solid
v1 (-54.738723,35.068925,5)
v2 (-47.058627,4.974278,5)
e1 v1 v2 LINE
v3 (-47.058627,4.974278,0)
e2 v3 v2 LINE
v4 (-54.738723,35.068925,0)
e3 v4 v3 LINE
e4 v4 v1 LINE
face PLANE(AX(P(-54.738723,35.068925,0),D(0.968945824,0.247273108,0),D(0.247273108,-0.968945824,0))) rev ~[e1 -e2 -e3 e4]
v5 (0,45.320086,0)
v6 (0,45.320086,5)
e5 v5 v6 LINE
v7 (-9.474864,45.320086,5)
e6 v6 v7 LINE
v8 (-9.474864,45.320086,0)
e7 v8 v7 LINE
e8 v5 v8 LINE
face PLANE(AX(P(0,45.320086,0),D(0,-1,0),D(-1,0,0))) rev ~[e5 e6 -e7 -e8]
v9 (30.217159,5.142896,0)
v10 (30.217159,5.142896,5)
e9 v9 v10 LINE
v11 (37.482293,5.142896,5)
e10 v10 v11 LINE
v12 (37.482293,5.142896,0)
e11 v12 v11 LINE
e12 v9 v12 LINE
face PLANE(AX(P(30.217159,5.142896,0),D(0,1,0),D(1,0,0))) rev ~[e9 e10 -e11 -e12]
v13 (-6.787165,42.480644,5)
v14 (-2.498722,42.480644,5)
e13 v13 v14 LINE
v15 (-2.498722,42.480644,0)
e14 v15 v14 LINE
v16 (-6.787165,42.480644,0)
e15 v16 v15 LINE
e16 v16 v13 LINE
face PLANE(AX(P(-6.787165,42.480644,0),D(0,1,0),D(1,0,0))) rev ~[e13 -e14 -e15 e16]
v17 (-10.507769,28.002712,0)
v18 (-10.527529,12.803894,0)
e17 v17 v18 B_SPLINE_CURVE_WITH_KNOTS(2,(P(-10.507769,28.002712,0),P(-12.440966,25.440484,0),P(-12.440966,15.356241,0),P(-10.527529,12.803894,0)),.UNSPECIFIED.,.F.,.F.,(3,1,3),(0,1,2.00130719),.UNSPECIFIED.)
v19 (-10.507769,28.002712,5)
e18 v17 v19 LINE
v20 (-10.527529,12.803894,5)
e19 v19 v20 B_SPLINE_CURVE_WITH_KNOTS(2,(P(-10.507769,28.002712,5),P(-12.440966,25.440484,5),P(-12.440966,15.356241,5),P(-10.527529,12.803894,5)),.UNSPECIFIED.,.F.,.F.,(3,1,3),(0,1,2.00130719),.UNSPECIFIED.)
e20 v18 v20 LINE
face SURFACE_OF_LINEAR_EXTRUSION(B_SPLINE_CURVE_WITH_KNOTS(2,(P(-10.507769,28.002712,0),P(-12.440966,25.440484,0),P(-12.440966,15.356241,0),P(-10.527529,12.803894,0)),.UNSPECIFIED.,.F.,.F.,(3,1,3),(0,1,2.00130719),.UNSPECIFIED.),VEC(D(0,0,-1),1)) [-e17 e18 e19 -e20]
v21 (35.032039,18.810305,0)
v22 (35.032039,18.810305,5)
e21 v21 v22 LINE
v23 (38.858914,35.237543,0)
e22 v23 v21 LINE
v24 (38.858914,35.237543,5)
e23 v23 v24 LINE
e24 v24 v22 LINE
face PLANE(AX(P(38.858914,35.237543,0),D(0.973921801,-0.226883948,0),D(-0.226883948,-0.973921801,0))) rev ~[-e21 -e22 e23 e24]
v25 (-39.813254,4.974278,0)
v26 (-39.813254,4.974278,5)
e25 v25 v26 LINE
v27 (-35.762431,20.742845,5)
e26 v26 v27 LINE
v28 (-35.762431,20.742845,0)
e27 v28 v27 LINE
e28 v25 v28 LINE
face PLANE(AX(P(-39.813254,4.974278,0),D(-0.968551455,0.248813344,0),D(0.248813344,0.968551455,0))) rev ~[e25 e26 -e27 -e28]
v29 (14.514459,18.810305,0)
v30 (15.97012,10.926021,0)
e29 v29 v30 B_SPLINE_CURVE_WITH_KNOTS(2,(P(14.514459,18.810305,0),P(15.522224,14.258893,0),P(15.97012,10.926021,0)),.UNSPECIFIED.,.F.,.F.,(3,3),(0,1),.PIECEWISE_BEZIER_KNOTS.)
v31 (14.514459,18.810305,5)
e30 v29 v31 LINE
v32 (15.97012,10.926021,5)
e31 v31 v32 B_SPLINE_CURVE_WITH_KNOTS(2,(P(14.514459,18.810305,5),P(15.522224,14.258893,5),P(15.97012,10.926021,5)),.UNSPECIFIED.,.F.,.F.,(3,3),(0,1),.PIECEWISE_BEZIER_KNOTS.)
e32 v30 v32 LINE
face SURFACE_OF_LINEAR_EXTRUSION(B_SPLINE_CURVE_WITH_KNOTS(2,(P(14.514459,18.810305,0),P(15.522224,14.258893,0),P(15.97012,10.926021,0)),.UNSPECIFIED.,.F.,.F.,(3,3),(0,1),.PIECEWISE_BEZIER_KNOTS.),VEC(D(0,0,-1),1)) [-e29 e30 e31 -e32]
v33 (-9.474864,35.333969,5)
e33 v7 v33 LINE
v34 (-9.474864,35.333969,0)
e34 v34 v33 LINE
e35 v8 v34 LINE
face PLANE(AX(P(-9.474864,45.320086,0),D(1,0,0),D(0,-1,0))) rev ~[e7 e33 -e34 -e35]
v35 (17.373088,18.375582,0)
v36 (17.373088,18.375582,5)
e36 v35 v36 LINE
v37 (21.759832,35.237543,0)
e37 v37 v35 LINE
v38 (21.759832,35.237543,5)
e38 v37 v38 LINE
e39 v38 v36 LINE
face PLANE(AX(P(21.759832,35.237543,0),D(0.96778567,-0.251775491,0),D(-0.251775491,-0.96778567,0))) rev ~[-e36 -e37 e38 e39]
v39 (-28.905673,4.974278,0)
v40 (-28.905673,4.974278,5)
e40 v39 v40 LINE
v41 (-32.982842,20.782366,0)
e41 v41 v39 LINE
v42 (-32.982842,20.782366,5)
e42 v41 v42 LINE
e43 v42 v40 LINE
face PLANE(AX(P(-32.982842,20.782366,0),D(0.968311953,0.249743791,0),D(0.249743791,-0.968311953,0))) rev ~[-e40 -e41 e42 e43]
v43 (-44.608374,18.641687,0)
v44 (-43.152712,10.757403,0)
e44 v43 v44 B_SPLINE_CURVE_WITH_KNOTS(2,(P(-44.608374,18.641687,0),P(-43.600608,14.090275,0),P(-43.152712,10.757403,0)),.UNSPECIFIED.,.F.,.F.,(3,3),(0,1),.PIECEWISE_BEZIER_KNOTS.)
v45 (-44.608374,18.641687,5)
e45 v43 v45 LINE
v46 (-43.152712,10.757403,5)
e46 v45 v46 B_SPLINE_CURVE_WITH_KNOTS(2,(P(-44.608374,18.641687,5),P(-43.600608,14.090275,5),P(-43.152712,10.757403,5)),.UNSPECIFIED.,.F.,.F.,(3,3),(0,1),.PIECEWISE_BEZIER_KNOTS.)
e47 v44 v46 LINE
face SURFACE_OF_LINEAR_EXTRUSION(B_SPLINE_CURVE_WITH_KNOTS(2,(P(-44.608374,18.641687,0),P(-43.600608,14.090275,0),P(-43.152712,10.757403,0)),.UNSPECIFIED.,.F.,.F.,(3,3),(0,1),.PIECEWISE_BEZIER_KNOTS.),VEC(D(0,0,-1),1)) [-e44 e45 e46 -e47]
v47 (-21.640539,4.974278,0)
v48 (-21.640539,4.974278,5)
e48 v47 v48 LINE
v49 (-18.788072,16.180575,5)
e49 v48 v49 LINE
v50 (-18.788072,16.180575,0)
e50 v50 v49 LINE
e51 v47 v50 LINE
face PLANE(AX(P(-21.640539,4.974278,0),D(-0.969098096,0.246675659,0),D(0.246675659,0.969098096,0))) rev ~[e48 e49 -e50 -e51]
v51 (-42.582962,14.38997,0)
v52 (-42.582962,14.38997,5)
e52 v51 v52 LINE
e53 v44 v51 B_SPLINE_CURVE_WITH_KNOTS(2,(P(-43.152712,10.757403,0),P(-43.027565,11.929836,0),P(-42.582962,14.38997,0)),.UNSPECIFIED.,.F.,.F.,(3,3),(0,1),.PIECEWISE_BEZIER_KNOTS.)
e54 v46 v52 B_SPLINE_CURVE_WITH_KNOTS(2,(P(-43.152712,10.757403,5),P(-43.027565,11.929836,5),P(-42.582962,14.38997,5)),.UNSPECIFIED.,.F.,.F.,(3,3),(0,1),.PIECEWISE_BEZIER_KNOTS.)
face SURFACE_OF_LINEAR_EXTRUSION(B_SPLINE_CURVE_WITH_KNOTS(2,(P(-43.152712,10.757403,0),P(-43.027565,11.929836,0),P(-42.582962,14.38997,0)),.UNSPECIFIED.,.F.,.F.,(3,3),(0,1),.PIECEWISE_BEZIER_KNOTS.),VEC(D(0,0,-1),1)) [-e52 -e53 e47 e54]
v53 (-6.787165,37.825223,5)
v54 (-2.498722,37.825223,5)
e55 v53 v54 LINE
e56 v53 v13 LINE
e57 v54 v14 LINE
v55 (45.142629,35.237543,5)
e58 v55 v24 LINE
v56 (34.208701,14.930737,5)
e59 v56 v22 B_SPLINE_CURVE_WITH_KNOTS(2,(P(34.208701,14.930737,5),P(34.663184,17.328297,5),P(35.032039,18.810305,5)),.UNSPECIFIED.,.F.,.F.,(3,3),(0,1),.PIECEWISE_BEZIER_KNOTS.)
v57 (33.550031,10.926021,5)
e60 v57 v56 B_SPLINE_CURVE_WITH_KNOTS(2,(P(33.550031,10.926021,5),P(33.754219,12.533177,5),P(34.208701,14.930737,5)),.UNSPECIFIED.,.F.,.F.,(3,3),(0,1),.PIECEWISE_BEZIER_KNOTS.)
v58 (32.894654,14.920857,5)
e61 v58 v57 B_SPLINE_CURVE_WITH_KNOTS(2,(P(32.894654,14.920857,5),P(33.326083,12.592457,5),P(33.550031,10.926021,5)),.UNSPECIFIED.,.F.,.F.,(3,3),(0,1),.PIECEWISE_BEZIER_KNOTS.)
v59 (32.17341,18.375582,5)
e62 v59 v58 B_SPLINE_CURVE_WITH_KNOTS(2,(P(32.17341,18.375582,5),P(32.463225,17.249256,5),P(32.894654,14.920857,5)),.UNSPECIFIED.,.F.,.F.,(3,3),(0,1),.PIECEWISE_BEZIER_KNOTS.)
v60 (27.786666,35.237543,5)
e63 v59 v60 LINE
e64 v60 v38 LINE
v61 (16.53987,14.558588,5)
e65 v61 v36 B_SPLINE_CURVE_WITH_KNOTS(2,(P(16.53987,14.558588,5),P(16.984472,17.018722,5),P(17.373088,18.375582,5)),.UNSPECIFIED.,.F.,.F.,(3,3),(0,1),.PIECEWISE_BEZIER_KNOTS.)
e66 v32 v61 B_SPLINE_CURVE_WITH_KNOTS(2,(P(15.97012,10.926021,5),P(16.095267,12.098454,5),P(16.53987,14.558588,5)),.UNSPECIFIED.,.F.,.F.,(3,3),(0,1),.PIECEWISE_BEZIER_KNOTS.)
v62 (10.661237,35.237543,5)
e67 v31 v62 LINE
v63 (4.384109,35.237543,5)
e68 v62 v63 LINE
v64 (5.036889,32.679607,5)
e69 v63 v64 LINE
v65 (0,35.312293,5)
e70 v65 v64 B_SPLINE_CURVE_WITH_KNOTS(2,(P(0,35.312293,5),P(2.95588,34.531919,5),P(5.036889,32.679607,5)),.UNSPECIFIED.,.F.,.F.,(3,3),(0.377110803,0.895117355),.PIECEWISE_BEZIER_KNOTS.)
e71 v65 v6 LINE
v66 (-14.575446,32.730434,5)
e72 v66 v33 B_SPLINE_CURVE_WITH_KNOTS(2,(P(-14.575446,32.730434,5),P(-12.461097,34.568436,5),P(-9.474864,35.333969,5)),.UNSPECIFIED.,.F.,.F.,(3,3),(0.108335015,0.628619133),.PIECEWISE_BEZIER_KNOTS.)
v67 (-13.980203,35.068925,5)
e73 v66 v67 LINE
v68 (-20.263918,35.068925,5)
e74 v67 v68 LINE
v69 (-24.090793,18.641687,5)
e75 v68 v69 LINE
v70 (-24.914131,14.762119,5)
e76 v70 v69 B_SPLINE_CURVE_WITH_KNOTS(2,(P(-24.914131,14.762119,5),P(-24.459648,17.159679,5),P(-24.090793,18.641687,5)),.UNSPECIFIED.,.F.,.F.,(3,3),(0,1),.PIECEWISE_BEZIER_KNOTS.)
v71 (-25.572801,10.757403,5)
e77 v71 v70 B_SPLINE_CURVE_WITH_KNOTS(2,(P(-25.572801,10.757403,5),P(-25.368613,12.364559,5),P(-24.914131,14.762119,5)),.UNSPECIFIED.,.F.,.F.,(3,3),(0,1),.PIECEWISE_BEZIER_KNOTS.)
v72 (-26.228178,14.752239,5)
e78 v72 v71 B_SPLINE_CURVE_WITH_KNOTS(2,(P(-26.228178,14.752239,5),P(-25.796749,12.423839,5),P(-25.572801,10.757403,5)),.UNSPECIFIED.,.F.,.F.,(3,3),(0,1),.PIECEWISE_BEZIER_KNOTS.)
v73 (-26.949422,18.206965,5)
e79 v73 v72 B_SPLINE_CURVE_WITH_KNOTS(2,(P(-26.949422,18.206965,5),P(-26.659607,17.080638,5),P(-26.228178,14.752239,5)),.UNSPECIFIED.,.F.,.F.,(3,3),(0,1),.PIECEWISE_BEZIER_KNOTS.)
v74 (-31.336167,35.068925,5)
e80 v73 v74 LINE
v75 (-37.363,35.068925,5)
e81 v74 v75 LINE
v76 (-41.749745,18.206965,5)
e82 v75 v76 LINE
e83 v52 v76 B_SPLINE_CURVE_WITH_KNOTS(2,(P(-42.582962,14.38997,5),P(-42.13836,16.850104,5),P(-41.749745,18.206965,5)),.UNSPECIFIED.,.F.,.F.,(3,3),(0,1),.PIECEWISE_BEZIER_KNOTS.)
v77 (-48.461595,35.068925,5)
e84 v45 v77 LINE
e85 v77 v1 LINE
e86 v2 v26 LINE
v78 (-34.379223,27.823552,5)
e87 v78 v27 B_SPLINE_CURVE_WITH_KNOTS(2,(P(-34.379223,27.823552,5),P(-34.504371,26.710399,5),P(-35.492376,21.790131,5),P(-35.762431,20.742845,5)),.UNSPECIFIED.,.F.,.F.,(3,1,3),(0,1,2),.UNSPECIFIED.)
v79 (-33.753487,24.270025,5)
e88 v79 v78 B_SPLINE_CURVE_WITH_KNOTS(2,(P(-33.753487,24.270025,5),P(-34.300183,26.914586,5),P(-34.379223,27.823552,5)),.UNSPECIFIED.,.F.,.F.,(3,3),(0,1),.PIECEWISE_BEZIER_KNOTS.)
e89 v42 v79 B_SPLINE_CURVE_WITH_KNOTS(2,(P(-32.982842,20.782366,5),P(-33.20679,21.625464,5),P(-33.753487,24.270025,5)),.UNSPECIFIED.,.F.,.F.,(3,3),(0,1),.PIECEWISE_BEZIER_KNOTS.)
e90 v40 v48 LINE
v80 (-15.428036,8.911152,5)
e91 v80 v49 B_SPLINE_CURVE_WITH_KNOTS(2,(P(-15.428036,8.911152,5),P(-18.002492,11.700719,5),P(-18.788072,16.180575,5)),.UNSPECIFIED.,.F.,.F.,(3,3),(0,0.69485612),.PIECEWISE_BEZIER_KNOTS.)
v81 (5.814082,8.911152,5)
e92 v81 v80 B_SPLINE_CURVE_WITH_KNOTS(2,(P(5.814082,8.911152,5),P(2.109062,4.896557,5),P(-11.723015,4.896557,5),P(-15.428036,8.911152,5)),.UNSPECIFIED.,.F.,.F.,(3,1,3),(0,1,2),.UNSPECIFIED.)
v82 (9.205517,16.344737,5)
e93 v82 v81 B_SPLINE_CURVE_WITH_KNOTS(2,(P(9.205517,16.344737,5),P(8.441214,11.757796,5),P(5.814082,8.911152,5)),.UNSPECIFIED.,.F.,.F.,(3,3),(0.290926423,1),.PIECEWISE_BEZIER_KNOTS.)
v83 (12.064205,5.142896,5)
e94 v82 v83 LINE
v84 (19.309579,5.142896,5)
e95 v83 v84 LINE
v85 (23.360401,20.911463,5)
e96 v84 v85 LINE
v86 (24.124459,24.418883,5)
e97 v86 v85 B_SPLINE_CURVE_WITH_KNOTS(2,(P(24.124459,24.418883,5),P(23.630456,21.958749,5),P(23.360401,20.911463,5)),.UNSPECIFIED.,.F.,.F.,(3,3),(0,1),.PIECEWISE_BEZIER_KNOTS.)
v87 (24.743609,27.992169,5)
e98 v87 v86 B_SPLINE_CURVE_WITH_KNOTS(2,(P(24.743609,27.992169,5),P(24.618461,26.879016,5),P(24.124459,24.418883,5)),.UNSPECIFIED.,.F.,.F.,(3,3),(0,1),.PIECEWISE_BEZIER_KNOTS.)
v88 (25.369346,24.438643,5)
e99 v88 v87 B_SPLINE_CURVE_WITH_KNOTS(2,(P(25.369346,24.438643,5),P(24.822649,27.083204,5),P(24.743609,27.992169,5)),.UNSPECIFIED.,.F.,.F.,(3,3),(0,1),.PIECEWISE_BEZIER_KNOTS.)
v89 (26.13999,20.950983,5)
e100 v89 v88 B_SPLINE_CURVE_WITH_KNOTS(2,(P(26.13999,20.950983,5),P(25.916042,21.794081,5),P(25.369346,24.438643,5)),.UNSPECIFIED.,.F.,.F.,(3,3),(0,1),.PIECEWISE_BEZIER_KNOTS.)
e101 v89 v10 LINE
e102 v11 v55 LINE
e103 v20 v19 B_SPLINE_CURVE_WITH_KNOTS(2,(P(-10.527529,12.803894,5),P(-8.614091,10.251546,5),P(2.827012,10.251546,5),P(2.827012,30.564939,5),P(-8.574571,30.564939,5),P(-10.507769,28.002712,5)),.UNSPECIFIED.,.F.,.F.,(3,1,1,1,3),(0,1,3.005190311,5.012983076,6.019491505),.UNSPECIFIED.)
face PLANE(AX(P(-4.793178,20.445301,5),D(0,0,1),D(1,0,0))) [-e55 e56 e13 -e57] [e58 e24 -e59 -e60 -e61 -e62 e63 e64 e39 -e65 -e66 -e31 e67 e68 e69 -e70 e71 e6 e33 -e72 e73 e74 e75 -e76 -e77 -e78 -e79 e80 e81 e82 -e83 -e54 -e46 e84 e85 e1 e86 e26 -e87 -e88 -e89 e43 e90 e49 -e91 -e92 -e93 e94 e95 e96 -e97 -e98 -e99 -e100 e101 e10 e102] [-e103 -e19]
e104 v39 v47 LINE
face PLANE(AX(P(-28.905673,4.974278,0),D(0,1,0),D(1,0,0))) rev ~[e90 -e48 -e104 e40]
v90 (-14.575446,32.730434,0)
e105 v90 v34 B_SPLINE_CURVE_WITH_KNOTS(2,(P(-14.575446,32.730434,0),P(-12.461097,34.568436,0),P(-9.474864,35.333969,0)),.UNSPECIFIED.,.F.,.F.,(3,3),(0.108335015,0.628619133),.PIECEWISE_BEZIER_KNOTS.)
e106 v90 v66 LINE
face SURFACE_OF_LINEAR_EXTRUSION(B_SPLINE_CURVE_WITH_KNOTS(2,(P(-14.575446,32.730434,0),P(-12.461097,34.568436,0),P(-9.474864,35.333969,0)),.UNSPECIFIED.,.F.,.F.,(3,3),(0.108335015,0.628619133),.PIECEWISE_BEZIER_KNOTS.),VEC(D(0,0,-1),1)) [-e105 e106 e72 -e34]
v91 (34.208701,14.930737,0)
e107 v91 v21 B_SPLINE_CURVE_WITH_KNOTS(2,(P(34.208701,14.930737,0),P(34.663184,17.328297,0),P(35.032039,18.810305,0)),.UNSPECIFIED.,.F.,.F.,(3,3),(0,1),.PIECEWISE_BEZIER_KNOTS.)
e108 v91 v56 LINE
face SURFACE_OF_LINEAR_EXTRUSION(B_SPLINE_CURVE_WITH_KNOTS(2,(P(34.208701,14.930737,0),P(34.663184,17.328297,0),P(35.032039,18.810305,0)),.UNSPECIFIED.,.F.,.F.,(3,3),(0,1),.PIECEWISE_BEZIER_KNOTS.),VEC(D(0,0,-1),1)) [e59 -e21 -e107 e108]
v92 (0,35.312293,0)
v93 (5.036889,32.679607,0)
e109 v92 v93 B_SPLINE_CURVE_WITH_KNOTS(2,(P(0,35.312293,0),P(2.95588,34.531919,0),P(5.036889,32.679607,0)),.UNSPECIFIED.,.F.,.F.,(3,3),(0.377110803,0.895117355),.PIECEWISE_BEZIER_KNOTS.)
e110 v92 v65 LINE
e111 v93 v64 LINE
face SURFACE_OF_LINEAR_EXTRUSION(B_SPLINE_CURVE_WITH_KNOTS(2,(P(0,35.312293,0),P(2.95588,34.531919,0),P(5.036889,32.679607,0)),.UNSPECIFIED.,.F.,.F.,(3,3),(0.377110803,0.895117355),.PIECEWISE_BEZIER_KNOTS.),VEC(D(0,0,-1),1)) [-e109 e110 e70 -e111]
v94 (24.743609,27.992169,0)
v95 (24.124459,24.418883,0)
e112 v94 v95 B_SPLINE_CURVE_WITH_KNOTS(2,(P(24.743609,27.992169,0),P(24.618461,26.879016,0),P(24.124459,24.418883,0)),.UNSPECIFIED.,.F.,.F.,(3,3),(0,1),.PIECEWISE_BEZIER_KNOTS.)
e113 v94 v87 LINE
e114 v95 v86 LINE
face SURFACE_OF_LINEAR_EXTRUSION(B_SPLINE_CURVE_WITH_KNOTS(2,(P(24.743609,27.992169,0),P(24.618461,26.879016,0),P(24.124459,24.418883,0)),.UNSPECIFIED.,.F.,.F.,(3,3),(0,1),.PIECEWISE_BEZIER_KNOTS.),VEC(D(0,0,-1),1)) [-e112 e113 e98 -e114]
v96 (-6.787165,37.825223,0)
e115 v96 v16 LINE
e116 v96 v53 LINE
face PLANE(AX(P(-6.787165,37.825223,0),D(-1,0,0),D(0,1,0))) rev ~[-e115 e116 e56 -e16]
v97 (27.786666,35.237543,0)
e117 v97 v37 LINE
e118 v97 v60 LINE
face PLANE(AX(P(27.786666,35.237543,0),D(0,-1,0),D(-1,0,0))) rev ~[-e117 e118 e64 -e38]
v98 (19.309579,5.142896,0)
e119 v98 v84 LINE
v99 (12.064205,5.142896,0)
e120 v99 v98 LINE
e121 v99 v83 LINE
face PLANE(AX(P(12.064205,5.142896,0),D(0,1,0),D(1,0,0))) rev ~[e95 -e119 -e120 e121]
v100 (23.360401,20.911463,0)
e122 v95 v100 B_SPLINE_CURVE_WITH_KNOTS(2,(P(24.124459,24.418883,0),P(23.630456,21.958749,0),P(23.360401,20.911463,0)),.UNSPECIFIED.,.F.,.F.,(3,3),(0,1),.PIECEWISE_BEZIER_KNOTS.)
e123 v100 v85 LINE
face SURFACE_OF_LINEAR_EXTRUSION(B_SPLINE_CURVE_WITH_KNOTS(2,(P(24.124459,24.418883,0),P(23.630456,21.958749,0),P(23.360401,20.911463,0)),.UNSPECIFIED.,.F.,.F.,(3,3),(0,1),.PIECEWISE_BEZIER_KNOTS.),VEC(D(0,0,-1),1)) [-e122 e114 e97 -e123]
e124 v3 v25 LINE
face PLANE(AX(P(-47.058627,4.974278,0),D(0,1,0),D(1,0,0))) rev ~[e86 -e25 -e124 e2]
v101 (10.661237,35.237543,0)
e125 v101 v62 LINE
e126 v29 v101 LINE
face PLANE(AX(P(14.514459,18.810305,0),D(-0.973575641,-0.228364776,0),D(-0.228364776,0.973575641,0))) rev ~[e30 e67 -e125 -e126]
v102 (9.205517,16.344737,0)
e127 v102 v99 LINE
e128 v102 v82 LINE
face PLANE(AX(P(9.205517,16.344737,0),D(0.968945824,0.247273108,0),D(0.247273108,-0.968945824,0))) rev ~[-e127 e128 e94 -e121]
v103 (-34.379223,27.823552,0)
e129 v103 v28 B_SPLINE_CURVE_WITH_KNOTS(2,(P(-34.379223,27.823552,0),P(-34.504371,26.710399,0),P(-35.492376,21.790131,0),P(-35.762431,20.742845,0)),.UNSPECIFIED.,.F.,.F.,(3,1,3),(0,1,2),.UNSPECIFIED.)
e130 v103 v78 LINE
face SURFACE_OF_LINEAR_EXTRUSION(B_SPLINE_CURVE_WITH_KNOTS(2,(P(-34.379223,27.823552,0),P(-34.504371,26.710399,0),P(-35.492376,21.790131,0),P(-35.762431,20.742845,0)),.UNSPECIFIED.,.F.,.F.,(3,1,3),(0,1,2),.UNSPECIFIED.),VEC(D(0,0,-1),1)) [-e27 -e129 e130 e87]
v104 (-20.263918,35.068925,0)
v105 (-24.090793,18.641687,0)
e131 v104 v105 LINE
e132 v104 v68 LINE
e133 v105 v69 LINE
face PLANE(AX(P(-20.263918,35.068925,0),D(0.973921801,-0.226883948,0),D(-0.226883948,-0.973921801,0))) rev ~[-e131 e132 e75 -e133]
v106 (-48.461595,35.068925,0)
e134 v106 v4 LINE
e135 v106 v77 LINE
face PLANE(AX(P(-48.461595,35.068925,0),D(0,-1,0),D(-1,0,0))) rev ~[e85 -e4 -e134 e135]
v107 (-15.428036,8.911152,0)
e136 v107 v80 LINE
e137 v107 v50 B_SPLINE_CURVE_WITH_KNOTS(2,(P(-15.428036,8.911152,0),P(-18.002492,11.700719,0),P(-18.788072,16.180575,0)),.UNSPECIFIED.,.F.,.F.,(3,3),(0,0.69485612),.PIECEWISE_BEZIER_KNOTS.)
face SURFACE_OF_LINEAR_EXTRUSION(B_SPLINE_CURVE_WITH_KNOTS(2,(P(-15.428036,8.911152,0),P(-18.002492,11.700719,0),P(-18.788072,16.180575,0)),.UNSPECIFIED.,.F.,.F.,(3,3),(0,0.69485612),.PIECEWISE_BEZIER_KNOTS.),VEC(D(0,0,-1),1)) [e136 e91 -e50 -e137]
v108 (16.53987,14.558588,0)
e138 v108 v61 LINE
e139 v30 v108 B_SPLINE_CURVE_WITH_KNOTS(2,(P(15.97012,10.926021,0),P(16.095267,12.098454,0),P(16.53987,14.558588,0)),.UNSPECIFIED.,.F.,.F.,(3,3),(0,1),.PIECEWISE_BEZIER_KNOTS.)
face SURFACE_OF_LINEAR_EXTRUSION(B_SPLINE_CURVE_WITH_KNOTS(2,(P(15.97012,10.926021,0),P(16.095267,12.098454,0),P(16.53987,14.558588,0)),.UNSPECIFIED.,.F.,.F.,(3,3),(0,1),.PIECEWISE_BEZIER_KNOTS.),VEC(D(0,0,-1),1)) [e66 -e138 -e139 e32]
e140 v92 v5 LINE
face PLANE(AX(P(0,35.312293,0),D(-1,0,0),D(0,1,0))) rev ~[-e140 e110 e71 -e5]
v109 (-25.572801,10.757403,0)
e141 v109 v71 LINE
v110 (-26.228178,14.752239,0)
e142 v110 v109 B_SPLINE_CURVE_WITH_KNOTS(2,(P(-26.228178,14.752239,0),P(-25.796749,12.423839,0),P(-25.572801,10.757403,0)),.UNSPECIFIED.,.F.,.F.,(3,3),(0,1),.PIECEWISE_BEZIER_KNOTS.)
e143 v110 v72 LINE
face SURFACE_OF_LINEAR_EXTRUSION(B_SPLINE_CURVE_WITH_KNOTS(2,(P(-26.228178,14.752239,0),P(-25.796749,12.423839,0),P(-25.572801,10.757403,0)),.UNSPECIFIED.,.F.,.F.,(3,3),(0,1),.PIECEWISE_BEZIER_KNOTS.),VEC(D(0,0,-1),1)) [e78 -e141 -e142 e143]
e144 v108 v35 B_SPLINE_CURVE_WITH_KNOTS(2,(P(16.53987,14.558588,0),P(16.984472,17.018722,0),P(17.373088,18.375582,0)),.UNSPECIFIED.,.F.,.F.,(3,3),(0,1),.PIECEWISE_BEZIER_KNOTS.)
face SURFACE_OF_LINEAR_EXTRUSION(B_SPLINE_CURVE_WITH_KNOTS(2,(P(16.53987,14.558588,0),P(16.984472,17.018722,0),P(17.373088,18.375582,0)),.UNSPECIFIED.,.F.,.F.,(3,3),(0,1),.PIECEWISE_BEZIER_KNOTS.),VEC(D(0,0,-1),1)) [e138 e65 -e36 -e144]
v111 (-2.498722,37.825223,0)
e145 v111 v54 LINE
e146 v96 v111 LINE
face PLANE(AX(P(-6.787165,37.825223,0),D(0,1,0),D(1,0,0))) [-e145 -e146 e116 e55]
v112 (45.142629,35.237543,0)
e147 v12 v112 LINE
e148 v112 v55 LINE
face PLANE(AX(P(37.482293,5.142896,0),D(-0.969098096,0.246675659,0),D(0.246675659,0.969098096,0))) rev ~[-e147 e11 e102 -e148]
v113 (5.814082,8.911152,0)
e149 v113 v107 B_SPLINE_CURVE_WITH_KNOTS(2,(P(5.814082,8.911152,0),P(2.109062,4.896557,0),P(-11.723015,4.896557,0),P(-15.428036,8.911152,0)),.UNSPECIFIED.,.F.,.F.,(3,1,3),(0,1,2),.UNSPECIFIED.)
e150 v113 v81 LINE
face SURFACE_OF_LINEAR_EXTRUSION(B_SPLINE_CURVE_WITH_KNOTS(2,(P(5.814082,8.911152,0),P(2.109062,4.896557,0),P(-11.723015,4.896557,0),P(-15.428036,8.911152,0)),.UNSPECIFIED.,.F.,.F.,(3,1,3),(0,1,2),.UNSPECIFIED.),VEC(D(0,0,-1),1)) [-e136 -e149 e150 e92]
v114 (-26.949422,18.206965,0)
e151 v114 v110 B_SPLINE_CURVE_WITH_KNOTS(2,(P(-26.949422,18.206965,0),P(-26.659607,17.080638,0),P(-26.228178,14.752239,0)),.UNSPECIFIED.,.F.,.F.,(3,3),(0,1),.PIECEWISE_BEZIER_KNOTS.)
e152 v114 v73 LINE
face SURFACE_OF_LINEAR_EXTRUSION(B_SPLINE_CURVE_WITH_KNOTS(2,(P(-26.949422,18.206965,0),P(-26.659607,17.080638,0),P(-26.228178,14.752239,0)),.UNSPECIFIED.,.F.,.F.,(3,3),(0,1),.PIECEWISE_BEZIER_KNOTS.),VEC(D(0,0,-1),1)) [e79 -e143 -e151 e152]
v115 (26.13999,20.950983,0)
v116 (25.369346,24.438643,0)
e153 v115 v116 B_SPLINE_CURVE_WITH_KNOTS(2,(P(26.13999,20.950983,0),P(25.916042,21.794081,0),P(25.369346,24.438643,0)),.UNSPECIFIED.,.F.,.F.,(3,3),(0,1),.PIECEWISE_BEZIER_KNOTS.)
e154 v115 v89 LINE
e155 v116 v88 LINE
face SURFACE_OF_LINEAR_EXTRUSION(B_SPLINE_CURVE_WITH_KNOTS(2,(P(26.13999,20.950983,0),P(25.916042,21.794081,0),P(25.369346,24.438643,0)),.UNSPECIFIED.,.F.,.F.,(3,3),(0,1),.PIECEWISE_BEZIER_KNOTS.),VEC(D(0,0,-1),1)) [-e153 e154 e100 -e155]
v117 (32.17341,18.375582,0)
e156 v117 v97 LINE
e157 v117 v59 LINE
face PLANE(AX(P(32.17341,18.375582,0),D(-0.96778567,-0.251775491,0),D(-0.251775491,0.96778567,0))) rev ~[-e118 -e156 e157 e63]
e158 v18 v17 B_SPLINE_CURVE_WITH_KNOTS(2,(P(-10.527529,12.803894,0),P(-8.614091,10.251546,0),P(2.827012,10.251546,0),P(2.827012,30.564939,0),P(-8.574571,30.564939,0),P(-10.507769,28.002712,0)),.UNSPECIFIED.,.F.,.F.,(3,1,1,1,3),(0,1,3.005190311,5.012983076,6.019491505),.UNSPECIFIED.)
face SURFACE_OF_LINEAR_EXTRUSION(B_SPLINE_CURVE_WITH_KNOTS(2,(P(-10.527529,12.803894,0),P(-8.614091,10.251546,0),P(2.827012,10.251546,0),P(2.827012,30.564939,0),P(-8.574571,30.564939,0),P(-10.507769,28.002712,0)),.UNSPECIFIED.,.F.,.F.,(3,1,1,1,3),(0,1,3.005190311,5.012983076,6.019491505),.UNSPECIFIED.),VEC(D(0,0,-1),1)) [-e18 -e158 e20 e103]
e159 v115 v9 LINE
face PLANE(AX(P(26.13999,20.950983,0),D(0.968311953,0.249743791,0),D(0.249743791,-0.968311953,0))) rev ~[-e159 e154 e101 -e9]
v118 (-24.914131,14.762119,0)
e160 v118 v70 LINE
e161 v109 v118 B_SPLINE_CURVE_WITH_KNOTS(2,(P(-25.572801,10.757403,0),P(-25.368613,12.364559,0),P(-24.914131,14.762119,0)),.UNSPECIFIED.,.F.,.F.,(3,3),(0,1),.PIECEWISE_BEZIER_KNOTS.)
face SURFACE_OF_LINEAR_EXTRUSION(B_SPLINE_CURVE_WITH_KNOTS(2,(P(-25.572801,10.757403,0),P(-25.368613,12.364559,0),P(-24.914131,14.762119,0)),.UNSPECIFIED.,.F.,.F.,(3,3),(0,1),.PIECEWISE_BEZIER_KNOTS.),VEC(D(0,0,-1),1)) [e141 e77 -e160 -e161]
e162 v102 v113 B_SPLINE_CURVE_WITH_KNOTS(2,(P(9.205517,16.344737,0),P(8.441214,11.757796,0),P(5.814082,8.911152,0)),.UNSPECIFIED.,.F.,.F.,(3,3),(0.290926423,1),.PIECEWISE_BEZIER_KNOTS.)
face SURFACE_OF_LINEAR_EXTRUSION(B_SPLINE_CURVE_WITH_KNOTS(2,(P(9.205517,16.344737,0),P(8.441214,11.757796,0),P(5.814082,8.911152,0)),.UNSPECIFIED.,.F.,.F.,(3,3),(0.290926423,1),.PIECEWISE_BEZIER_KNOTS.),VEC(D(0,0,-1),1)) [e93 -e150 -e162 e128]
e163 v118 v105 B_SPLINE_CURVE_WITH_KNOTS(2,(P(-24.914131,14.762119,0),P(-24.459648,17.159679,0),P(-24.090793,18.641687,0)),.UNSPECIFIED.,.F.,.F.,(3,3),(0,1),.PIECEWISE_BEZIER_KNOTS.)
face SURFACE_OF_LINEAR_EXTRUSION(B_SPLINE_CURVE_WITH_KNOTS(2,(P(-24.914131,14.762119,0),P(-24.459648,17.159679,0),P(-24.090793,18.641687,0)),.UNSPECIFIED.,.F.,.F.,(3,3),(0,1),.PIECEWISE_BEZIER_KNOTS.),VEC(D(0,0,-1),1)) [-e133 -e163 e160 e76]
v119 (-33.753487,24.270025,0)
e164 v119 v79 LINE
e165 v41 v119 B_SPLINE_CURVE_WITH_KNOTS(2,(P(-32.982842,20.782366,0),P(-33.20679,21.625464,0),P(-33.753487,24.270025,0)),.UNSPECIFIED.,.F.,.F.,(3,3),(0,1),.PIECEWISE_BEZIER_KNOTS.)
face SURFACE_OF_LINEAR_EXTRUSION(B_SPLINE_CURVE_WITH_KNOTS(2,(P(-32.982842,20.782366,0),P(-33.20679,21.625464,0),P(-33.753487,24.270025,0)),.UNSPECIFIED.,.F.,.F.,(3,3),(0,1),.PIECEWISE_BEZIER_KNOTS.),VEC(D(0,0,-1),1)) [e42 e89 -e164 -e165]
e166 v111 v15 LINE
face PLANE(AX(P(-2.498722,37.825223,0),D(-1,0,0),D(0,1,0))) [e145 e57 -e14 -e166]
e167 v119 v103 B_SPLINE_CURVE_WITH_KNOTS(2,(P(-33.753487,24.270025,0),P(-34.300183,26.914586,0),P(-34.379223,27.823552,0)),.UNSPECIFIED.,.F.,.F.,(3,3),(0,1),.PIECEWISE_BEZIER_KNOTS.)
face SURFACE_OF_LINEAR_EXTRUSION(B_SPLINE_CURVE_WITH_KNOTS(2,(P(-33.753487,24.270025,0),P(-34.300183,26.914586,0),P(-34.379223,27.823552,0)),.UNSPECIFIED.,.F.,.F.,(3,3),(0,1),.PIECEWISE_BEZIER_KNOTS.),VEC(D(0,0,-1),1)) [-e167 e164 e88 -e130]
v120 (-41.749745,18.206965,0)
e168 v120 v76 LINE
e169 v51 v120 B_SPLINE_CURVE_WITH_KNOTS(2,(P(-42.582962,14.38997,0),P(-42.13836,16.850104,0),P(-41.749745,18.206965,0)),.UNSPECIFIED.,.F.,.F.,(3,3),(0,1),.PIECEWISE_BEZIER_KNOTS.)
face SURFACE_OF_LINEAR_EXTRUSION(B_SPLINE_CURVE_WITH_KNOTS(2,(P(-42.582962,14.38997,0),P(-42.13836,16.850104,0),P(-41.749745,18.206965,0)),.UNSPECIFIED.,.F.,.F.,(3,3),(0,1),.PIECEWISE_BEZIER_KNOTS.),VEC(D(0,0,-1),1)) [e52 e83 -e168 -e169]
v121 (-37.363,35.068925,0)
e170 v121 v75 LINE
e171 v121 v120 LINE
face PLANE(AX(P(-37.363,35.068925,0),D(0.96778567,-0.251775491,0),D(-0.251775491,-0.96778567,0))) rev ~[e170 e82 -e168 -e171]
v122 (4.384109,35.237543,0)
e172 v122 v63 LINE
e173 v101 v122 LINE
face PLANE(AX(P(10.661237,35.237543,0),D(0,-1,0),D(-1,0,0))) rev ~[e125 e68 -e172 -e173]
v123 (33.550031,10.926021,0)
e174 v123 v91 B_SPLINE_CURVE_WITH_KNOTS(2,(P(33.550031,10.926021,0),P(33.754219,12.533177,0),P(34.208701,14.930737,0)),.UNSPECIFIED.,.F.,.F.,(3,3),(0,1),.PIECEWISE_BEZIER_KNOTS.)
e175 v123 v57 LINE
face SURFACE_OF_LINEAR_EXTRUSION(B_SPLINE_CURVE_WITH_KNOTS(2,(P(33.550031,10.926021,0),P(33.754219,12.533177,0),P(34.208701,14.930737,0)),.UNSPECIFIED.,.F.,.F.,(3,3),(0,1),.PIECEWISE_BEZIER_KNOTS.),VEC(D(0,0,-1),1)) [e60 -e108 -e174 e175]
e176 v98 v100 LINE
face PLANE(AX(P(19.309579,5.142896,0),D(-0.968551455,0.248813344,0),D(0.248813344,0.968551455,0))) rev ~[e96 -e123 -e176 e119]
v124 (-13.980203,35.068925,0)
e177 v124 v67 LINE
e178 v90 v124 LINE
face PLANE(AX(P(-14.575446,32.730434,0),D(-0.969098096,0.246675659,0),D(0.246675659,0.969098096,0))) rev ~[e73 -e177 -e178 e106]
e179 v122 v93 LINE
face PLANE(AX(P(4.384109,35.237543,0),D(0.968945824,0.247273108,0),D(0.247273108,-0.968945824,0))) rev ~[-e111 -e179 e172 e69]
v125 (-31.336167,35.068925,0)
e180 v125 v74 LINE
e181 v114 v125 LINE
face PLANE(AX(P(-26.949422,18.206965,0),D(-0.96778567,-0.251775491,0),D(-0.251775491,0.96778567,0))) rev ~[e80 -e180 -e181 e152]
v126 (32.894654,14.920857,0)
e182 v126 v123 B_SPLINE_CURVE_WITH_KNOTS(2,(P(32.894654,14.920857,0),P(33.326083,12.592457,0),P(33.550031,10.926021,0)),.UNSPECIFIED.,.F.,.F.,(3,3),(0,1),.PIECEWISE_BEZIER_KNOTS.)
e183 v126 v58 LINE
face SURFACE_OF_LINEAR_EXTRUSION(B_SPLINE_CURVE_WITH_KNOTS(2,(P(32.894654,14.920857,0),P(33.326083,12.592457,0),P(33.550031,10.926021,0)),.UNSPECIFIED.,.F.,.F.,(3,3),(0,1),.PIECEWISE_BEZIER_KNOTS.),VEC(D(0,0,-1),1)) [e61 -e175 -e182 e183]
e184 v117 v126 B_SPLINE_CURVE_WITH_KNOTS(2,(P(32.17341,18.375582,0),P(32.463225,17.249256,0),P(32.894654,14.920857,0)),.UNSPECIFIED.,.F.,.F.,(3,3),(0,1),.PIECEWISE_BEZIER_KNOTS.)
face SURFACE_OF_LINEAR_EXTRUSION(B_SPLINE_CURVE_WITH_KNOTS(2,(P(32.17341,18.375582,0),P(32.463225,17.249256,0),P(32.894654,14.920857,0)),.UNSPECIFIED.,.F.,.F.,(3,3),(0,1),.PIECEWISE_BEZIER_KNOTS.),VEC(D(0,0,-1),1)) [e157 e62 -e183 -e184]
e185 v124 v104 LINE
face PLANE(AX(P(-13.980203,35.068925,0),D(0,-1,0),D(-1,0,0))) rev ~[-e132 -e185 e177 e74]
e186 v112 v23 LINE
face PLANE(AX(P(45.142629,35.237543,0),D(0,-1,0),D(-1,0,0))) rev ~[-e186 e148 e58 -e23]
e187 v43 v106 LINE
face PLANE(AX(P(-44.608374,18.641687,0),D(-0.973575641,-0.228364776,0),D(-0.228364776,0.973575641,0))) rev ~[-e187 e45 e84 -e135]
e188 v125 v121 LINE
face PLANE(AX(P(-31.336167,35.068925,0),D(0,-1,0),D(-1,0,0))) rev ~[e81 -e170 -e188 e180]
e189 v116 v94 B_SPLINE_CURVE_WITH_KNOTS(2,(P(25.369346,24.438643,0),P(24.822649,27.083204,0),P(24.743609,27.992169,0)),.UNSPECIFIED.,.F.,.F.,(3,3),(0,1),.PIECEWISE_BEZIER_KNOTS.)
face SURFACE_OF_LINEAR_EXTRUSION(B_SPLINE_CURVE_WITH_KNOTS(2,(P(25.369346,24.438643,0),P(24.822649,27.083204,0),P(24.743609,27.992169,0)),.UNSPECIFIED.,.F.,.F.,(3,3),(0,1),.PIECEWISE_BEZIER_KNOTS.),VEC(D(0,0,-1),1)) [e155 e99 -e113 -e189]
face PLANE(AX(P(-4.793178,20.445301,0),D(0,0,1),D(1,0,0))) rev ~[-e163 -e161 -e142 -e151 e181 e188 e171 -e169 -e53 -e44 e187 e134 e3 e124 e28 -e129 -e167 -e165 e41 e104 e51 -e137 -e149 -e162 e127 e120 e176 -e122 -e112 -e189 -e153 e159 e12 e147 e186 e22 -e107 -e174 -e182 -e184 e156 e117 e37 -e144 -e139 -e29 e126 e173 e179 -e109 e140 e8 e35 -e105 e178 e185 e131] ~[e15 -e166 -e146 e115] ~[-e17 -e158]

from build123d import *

# Parameters (mm, degrees)
F0_W     = 4.2884426657
F0_H     = 4.6554207802
F1_DEPTH = 5


with BuildPart() as f1:
    # F0 (on Top) → F1 (new body)
    with BuildSketch(Plane.XY):
        with BuildLine():
            Line((0, 34.1648682952), (-9.4748642296, 34.101113677))
            Line((-9.4748642296, 34.101113677), (-9.4748642296, 35.3339686341))
            add(Edge.make_bspline(
                [(-14.5754463948, 32.7304336343), (-12.461096702, 34.5684357885), (-9.4748642296, 35.3339686341)],
                knots=[0.1083350146, 0.1083350146, 0.1083350146, 0.628619133, 0.628619133, 0.628619133], degree=2))
            Line((-14.5754463948, 32.7304336343), (-18.7880718964, 16.1805747203))
            add(Edge.make_bspline(
                [(-15.428036076, 8.9111522718), (-18.0024923275, 11.7007186457), (-18.7880718964, 16.1805747203)],
                knots=[0, 0, 0, 0.6948561202, 0.6948561202, 0.6948561202], degree=2))
            add(Edge.make_bspline(
                [(-4.8069769728, 4.8965565984), (-11.7230154586, 4.8965565984), (-15.428036076, 8.9111522718)],
                knots=[0, 0, 0, 1, 1, 1], degree=2))
            add(Edge.make_bspline(
                [(5.8140821305, 8.9111522718), (2.1090615131, 4.8965565984), (-4.8069769728, 4.8965565984)],
                knots=[0, 0, 0, 1, 1, 1], degree=2))
            add(Edge.make_bspline(
                [(9.2055165337, 16.3447369284), (8.4412143544, 11.7577959882), (5.8140821305, 8.9111522718)],
                knots=[0.2909264225, 0.2909264225, 0.2909264225, 1, 1, 1], degree=2))
            Line((9.2055165337, 16.3447369284), (5.0368892491, 32.6796066227))
            add(Edge.make_bspline(
                [(0, 35.3122932316), (2.9558799099, 34.5319186151), (5.0368892491, 32.6796066227)],
                knots=[0.377110803, 0.377110803, 0.377110803, 0.8951173554, 0.8951173554, 0.8951173554], degree=2))
            Line((0, 35.3122932316), (0, 34.1648682952))
        make_face()
        with BuildLine():
            add(Edge.make_bspline(
                [(-12.4409661205, 20.4016562133), (-12.4409661205, 15.3562414703), (-10.5275288061, 12.8038939339)],
                knots=[0, 0, 0, 1, 1, 1], degree=2))
            add(Edge.make_bspline(
                [(-10.5077686961, 28.0027118444), (-12.4409661205, 25.440484253), (-12.4409661205, 20.4016562133)],
                knots=[0, 0, 0, 1, 1, 1], degree=2))
            add(Edge.make_bspline(
                [(-4.7674567528, 30.5649394359), (-8.5745712717, 30.5649394359), (-10.5077686961, 28.0027118444)],
                knots=[0, 0, 0, 1, 1, 1], degree=2))
            add(Edge.make_bspline(
                [(2.827012175, 20.4016562133), (2.827012175, 30.5649394359), (-4.7674567528, 30.5649394359)],
                knots=[0, 0, 0, 1, 1, 1], degree=2))
            add(Edge.make_bspline(
                [(-4.8069769728, 10.2515463974), (2.827012175, 10.2515463974), (2.827012175, 20.4016562133)],
                knots=[0, 0, 0, 1, 1, 1], degree=2))
            add(Edge.make_bspline(
                [(-10.5275288061, 12.8038939339), (-8.6140914916, 10.2515463974), (-4.8069769728, 10.2515463974)],
                knots=[0, 0, 0, 1, 1, 1], degree=2))
        make_face(mode=Mode.SUBTRACT)
        with BuildLine():
            Line((-9.4748642296, 35.3339686341), (-9.4748642296, 34.101113677))
            Line((-9.4748642296, 34.101113677), (0, 34.1648682952))
            Line((0, 34.1648682952), (0, 35.3122932316))
            add(Edge.make_bspline(
                [(-4.7674567528, 35.880409015), (-2.1518921746, 35.880409015), (0, 35.3122932316)],
                knots=[0, 0, 0, 0.377110803, 0.377110803, 0.377110803], degree=2))
            add(Edge.make_bspline(
                [(-9.4748642296, 35.3339686341), (-7.3432796485, 35.880409015), (-4.7674567528, 35.880409015)],
                knots=[0.628619133, 0.628619133, 0.628619133, 1, 1, 1], degree=2))
        make_face()
        with BuildLine():
            Line((-9.4748642296, 45.3200861812), (-9.4748642296, 35.3339686341))
            add(Edge.make_bspline(
                [(-9.4748642296, 35.3339686341), (-7.3432796485, 35.880409015), (-4.7674567528, 35.880409015)],
                knots=[0.628619133, 0.628619133, 0.628619133, 1, 1, 1], degree=2))
            add(Edge.make_bspline(
                [(-4.7674567528, 35.880409015), (-2.1518921746, 35.880409015), (0, 35.3122932316)],
                knots=[0, 0, 0, 0.377110803, 0.377110803, 0.377110803], degree=2))
            Line((0, 35.3122932316), (0, 45.3200861812))
            Line((0, 45.3200861812), (-9.4748642296, 45.3200861812))
        make_face()
        with Locations((-4.6429432696, 40.1529334486)):
            Rectangle(F0_W, F0_H, mode=Mode.SUBTRACT)
        with BuildLine():
            add(Edge.make_bspline(
                [(-15.418156021, 31.9185069681), (-15.0157022025, 32.3477196841), (-14.5754463948, 32.7304336343)],
                knots=[0, 0, 0, 0.1083350146, 0.1083350146, 0.1083350146], degree=2))
            Line((-14.5754463948, 32.7304336343), (-13.9802033126, 35.0689251585))
            Line((-13.9802033126, 35.0689251585), (-20.2639182798, 35.0689251585))
            Line((-20.2639182798, 35.0689251585), (-24.0907929086, 18.6416870787))
            add(Edge.make_bspline(
                [(-24.9141308236, 14.7621188234), (-24.4596482945, 17.1596788318), (-24.0907929086, 18.6416870787)],
                knots=[0, 0, 0, 1, 1, 1], degree=2))
            add(Edge.make_bspline(
                [(-25.5728011556, 10.7574032049), (-25.3686133526, 12.3645588149), (-24.9141308236, 14.7621188234)],
                knots=[0, 0, 0, 1, 1, 1], degree=2))
            add(Edge.make_bspline(
                [(-26.2281781359, 14.7522387684), (-25.7967490684, 12.4238391448), (-25.5728011556, 10.7574032049)],
                knots=[0, 0, 0, 1, 1, 1], degree=2))
            add(Edge.make_bspline(
                [(-26.9494221494, 18.2069646596), (-26.6596072033, 17.0806383919), (-26.2281781359, 14.7522387684)],
                knots=[0, 0, 0, 1, 1, 1], degree=2))
            Line((-26.9494221494, 18.2069646596), (-31.3361665604, 35.0689251585))
            Line((-31.3361665604, 35.0689251585), (-37.3630000981, 35.0689251585))
            Line((-37.3630000981, 35.0689251585), (-41.7497445091, 18.2069646596))
            add(Edge.make_bspline(
                [(-42.5829624791, 14.3899700858), (-42.138360005, 16.8501037757), (-41.7497445091, 18.2069646596)],
                knots=[0, 0, 0, 1, 1, 1], degree=2))
            add(Edge.make_bspline(
                [(-43.1527123162, 10.7574032049), (-43.0275649532, 11.9298363958), (-42.5829624791, 14.3899700858)],
                knots=[0, 0, 0, 1, 1, 1], degree=2))
            add(Edge.make_bspline(
                [(-44.6083737499, 18.6416870787), (-43.600608142, 14.0902750847), (-43.1527123162, 10.7574032049)],
                knots=[0, 0, 0, 1, 1, 1], degree=2))
            Line((-44.6083737499, 18.6416870787), (-48.461595192, 35.0689251585))
            Line((-48.461595192, 35.0689251585), (-54.7387234559, 35.0689251585))
            Line((-54.7387234559, 35.0689251585), (-47.0586273849, 4.9742776901))
            Line((-47.0586273849, 4.9742776901), (-39.8132537331, 4.9742776901))
            Line((-39.8132537331, 4.9742776901), (-35.7624311914, 20.7428454378))
            add(Edge.make_bspline(
                [(-34.9983736063, 24.2502649556), (-35.4923763553, 21.7901312656), (-35.7624311914, 20.7428454378)],
                knots=[0, 0, 0, 1, 1, 1], degree=2))
            add(Edge.make_bspline(
                [(-34.3792234942, 27.8235515066), (-34.5043708573, 26.7103986456), (-34.9983736063, 24.2502649556)],
                knots=[0, 0, 0, 1, 1, 1], degree=2))
            add(Edge.make_bspline(
                [(-33.7534866788, 24.2700250656), (-34.3001830544, 26.9145864485), (-34.3792234942, 27.8235515066)],
                knots=[0, 0, 0, 1, 1, 1], degree=2))
            add(Edge.make_bspline(
                [(-32.9828423904, 20.7823656577), (-33.2067903033, 21.6254636826), (-33.7534866788, 24.2700250656)],
                knots=[0, 0, 0, 1, 1, 1], degree=2))
            Line((-32.9828423904, 20.7823656577), (-28.9056730354, 4.9742776901))
            Line((-28.9056730354, 4.9742776901), (-21.6405392736, 4.9742776901))
            Line((-21.6405392736, 4.9742776901), (-18.7880718964, 16.1805747203))
            add(Edge.make_bspline(
                [(-18.7880718964, 16.1805747203), (-19.1330566934, 18.147889426), (-19.1330566934, 20.4411764332)],
                knots=[0.6948561202, 0.6948561202, 0.6948561202, 1, 1, 1], degree=2))
            add(Edge.make_bspline(
                [(-19.1330566934, 20.4411764332), (-19.1330566934, 27.9566049212), (-15.418156021, 31.9185069681)],
                knots=[0, 0, 0, 1, 1, 1], degree=2))
        make_face()
        with BuildLine():
            Line((-18.7880718964, 16.1805747203), (-14.5754463948, 32.7304336343))
            add(Edge.make_bspline(
                [(-15.418156021, 31.9185069681), (-15.0157022025, 32.3477196841), (-14.5754463948, 32.7304336343)],
                knots=[0, 0, 0, 0.1083350146, 0.1083350146, 0.1083350146], degree=2))
            add(Edge.make_bspline(
                [(-19.1330566934, 20.4411764332), (-19.1330566934, 27.9566049212), (-15.418156021, 31.9185069681)],
                knots=[0, 0, 0, 1, 1, 1], degree=2))
            add(Edge.make_bspline(
                [(-18.7880718964, 16.1805747203), (-19.1330566934, 18.147889426), (-19.1330566934, 20.4411764332)],
                knots=[0.6948561202, 0.6948561202, 0.6948561202, 1, 1, 1], degree=2))
        make_face()
        with BuildLine():
            Line((4.3841088191, 35.2375429732), (5.0368892491, 32.6796066227))
            add(Edge.make_bspline(
                [(5.0368892491, 32.6796066227), (5.4582386738, 32.30456237), (5.8437222954, 31.8855734515)],
                knots=[0.8951173554, 0.8951173554, 0.8951173554, 1, 1, 1], degree=2))
            add(Edge.make_bspline(
                [(5.8437222954, 31.8855734515), (9.5191027479, 27.890737888), (9.5191027479, 20.4016562133)],
                knots=[0, 0, 0, 1, 1, 1], degree=2))
            add(Edge.make_bspline(
                [(9.5191027479, 20.4016562133), (9.5191027479, 18.2267169659), (9.2055165337, 16.3447369284)],
                knots=[0, 0, 0, 0.2909264225, 0.2909264225, 0.2909264225], degree=2))
            Line((9.2055165337, 16.3447369284), (12.06420489, 5.1428955048))
            Line((12.06420489, 5.1428955048), (19.3095785419, 5.1428955048))
            Line((19.3095785419, 5.1428955048), (23.3604010836, 20.9114632526))
            add(Edge.make_bspline(
                [(24.1244586687, 24.4188827704), (23.6304559197, 21.9587490804), (23.3604010836, 20.9114632526)],
                knots=[0, 0, 0, 1, 1, 1], degree=2))
            add(Edge.make_bspline(
                [(24.7436087807, 27.9921693214), (24.6184614177, 26.8790164603), (24.1244586687, 24.4188827704)],
                knots=[0, 0, 0, 1, 1, 1], degree=2))
            add(Edge.make_bspline(
                [(25.3693455961, 24.4386428803), (24.8226492206, 27.0832042633), (24.7436087807, 27.9921693214)],
                knots=[0, 0, 0, 1, 1, 1], degree=2))
            add(Edge.make_bspline(
                [(26.1399898845, 20.9509834725), (25.9160419717, 21.7940814974), (25.3693455961, 24.4386428803)],
                knots=[0, 0, 0, 1, 1, 1], degree=2))
            Line((26.1399898845, 20.9509834725), (30.2171592395, 5.1428955048))
            Line((30.2171592395, 5.1428955048), (37.4822930013, 5.1428955048))
            Line((37.4822930013, 5.1428955048), (45.1426289623, 35.2375429732))
            Line((45.1426289623, 35.2375429732), (38.8589139952, 35.2375429732))
            Line((38.8589139952, 35.2375429732), (35.0320393663, 18.8103048935))
            add(Edge.make_bspline(
                [(34.2087014514, 14.9307366381), (34.6631839804, 17.3282966466), (35.0320393663, 18.8103048935)],
                knots=[0, 0, 0, 1, 1, 1], degree=2))
            add(Edge.make_bspline(
                [(33.5500311194, 10.9260210197), (33.7542189223, 12.5331766297), (34.2087014514, 14.9307366381)],
                knots=[0, 0, 0, 1, 1, 1], degree=2))
            add(Edge.make_bspline(
                [(32.8946541391, 14.9208565832), (33.3260832065, 12.5924569596), (33.5500311194, 10.9260210197)],
                knots=[0, 0, 0, 1, 1, 1], degree=2))
            add(Edge.make_bspline(
                [(32.1734101255, 18.3755824744), (32.4632250716, 17.2492562067), (32.8946541391, 14.9208565832)],
                knots=[0, 0, 0, 1, 1, 1], degree=2))
            Line((32.1734101255, 18.3755824744), (27.7866657145, 35.2375429732))
            Line((27.7866657145, 35.2375429732), (21.7598321768, 35.2375429732))
            Line((21.7598321768, 35.2375429732), (17.3730877658, 18.3755824744))
            add(Edge.make_bspline(
                [(16.5398697959, 14.5585879006), (16.9844722699, 17.0187215905), (17.3730877658, 18.3755824744)],
                knots=[0, 0, 0, 1, 1, 1], degree=2))
            add(Edge.make_bspline(
                [(15.9701199587, 10.9260210197), (16.0952673218, 12.0984542106), (16.5398697959, 14.5585879006)],
                knots=[0, 0, 0, 1, 1, 1], degree=2))
            add(Edge.make_bspline(
                [(14.514458525, 18.8103048935), (15.5222241329, 14.2588928995), (15.9701199587, 10.9260210197)],
                knots=[0, 0, 0, 1, 1, 1], degree=2))
            Line((14.514458525, 18.8103048935), (10.6612370829, 35.2375429732))
            Line((10.6612370829, 35.2375429732), (4.3841088191, 35.2375429732))
        make_face()
        with BuildLine():
            add(Edge.make_bspline(
                [(5.0368892491, 32.6796066227), (5.4582386738, 32.30456237), (5.8437222954, 31.8855734515)],
                knots=[0.8951173554, 0.8951173554, 0.8951173554, 1, 1, 1], degree=2))
            Line((5.0368892491, 32.6796066227), (9.2055165337, 16.3447369284))
            add(Edge.make_bspline(
                [(9.5191027479, 20.4016562133), (9.5191027479, 18.2267169659), (9.2055165337, 16.3447369284)],
                knots=[0, 0, 0, 0.2909264225, 0.2909264225, 0.2909264225], degree=2))
            add(Edge.make_bspline(
                [(5.8437222954, 31.8855734515), (9.5191027479, 27.890737888), (9.5191027479, 20.4016562133)],
                knots=[0, 0, 0, 1, 1, 1], degree=2))
        make_face()
    extrude(amount=F1_DEPTH)


solid = f1.part
